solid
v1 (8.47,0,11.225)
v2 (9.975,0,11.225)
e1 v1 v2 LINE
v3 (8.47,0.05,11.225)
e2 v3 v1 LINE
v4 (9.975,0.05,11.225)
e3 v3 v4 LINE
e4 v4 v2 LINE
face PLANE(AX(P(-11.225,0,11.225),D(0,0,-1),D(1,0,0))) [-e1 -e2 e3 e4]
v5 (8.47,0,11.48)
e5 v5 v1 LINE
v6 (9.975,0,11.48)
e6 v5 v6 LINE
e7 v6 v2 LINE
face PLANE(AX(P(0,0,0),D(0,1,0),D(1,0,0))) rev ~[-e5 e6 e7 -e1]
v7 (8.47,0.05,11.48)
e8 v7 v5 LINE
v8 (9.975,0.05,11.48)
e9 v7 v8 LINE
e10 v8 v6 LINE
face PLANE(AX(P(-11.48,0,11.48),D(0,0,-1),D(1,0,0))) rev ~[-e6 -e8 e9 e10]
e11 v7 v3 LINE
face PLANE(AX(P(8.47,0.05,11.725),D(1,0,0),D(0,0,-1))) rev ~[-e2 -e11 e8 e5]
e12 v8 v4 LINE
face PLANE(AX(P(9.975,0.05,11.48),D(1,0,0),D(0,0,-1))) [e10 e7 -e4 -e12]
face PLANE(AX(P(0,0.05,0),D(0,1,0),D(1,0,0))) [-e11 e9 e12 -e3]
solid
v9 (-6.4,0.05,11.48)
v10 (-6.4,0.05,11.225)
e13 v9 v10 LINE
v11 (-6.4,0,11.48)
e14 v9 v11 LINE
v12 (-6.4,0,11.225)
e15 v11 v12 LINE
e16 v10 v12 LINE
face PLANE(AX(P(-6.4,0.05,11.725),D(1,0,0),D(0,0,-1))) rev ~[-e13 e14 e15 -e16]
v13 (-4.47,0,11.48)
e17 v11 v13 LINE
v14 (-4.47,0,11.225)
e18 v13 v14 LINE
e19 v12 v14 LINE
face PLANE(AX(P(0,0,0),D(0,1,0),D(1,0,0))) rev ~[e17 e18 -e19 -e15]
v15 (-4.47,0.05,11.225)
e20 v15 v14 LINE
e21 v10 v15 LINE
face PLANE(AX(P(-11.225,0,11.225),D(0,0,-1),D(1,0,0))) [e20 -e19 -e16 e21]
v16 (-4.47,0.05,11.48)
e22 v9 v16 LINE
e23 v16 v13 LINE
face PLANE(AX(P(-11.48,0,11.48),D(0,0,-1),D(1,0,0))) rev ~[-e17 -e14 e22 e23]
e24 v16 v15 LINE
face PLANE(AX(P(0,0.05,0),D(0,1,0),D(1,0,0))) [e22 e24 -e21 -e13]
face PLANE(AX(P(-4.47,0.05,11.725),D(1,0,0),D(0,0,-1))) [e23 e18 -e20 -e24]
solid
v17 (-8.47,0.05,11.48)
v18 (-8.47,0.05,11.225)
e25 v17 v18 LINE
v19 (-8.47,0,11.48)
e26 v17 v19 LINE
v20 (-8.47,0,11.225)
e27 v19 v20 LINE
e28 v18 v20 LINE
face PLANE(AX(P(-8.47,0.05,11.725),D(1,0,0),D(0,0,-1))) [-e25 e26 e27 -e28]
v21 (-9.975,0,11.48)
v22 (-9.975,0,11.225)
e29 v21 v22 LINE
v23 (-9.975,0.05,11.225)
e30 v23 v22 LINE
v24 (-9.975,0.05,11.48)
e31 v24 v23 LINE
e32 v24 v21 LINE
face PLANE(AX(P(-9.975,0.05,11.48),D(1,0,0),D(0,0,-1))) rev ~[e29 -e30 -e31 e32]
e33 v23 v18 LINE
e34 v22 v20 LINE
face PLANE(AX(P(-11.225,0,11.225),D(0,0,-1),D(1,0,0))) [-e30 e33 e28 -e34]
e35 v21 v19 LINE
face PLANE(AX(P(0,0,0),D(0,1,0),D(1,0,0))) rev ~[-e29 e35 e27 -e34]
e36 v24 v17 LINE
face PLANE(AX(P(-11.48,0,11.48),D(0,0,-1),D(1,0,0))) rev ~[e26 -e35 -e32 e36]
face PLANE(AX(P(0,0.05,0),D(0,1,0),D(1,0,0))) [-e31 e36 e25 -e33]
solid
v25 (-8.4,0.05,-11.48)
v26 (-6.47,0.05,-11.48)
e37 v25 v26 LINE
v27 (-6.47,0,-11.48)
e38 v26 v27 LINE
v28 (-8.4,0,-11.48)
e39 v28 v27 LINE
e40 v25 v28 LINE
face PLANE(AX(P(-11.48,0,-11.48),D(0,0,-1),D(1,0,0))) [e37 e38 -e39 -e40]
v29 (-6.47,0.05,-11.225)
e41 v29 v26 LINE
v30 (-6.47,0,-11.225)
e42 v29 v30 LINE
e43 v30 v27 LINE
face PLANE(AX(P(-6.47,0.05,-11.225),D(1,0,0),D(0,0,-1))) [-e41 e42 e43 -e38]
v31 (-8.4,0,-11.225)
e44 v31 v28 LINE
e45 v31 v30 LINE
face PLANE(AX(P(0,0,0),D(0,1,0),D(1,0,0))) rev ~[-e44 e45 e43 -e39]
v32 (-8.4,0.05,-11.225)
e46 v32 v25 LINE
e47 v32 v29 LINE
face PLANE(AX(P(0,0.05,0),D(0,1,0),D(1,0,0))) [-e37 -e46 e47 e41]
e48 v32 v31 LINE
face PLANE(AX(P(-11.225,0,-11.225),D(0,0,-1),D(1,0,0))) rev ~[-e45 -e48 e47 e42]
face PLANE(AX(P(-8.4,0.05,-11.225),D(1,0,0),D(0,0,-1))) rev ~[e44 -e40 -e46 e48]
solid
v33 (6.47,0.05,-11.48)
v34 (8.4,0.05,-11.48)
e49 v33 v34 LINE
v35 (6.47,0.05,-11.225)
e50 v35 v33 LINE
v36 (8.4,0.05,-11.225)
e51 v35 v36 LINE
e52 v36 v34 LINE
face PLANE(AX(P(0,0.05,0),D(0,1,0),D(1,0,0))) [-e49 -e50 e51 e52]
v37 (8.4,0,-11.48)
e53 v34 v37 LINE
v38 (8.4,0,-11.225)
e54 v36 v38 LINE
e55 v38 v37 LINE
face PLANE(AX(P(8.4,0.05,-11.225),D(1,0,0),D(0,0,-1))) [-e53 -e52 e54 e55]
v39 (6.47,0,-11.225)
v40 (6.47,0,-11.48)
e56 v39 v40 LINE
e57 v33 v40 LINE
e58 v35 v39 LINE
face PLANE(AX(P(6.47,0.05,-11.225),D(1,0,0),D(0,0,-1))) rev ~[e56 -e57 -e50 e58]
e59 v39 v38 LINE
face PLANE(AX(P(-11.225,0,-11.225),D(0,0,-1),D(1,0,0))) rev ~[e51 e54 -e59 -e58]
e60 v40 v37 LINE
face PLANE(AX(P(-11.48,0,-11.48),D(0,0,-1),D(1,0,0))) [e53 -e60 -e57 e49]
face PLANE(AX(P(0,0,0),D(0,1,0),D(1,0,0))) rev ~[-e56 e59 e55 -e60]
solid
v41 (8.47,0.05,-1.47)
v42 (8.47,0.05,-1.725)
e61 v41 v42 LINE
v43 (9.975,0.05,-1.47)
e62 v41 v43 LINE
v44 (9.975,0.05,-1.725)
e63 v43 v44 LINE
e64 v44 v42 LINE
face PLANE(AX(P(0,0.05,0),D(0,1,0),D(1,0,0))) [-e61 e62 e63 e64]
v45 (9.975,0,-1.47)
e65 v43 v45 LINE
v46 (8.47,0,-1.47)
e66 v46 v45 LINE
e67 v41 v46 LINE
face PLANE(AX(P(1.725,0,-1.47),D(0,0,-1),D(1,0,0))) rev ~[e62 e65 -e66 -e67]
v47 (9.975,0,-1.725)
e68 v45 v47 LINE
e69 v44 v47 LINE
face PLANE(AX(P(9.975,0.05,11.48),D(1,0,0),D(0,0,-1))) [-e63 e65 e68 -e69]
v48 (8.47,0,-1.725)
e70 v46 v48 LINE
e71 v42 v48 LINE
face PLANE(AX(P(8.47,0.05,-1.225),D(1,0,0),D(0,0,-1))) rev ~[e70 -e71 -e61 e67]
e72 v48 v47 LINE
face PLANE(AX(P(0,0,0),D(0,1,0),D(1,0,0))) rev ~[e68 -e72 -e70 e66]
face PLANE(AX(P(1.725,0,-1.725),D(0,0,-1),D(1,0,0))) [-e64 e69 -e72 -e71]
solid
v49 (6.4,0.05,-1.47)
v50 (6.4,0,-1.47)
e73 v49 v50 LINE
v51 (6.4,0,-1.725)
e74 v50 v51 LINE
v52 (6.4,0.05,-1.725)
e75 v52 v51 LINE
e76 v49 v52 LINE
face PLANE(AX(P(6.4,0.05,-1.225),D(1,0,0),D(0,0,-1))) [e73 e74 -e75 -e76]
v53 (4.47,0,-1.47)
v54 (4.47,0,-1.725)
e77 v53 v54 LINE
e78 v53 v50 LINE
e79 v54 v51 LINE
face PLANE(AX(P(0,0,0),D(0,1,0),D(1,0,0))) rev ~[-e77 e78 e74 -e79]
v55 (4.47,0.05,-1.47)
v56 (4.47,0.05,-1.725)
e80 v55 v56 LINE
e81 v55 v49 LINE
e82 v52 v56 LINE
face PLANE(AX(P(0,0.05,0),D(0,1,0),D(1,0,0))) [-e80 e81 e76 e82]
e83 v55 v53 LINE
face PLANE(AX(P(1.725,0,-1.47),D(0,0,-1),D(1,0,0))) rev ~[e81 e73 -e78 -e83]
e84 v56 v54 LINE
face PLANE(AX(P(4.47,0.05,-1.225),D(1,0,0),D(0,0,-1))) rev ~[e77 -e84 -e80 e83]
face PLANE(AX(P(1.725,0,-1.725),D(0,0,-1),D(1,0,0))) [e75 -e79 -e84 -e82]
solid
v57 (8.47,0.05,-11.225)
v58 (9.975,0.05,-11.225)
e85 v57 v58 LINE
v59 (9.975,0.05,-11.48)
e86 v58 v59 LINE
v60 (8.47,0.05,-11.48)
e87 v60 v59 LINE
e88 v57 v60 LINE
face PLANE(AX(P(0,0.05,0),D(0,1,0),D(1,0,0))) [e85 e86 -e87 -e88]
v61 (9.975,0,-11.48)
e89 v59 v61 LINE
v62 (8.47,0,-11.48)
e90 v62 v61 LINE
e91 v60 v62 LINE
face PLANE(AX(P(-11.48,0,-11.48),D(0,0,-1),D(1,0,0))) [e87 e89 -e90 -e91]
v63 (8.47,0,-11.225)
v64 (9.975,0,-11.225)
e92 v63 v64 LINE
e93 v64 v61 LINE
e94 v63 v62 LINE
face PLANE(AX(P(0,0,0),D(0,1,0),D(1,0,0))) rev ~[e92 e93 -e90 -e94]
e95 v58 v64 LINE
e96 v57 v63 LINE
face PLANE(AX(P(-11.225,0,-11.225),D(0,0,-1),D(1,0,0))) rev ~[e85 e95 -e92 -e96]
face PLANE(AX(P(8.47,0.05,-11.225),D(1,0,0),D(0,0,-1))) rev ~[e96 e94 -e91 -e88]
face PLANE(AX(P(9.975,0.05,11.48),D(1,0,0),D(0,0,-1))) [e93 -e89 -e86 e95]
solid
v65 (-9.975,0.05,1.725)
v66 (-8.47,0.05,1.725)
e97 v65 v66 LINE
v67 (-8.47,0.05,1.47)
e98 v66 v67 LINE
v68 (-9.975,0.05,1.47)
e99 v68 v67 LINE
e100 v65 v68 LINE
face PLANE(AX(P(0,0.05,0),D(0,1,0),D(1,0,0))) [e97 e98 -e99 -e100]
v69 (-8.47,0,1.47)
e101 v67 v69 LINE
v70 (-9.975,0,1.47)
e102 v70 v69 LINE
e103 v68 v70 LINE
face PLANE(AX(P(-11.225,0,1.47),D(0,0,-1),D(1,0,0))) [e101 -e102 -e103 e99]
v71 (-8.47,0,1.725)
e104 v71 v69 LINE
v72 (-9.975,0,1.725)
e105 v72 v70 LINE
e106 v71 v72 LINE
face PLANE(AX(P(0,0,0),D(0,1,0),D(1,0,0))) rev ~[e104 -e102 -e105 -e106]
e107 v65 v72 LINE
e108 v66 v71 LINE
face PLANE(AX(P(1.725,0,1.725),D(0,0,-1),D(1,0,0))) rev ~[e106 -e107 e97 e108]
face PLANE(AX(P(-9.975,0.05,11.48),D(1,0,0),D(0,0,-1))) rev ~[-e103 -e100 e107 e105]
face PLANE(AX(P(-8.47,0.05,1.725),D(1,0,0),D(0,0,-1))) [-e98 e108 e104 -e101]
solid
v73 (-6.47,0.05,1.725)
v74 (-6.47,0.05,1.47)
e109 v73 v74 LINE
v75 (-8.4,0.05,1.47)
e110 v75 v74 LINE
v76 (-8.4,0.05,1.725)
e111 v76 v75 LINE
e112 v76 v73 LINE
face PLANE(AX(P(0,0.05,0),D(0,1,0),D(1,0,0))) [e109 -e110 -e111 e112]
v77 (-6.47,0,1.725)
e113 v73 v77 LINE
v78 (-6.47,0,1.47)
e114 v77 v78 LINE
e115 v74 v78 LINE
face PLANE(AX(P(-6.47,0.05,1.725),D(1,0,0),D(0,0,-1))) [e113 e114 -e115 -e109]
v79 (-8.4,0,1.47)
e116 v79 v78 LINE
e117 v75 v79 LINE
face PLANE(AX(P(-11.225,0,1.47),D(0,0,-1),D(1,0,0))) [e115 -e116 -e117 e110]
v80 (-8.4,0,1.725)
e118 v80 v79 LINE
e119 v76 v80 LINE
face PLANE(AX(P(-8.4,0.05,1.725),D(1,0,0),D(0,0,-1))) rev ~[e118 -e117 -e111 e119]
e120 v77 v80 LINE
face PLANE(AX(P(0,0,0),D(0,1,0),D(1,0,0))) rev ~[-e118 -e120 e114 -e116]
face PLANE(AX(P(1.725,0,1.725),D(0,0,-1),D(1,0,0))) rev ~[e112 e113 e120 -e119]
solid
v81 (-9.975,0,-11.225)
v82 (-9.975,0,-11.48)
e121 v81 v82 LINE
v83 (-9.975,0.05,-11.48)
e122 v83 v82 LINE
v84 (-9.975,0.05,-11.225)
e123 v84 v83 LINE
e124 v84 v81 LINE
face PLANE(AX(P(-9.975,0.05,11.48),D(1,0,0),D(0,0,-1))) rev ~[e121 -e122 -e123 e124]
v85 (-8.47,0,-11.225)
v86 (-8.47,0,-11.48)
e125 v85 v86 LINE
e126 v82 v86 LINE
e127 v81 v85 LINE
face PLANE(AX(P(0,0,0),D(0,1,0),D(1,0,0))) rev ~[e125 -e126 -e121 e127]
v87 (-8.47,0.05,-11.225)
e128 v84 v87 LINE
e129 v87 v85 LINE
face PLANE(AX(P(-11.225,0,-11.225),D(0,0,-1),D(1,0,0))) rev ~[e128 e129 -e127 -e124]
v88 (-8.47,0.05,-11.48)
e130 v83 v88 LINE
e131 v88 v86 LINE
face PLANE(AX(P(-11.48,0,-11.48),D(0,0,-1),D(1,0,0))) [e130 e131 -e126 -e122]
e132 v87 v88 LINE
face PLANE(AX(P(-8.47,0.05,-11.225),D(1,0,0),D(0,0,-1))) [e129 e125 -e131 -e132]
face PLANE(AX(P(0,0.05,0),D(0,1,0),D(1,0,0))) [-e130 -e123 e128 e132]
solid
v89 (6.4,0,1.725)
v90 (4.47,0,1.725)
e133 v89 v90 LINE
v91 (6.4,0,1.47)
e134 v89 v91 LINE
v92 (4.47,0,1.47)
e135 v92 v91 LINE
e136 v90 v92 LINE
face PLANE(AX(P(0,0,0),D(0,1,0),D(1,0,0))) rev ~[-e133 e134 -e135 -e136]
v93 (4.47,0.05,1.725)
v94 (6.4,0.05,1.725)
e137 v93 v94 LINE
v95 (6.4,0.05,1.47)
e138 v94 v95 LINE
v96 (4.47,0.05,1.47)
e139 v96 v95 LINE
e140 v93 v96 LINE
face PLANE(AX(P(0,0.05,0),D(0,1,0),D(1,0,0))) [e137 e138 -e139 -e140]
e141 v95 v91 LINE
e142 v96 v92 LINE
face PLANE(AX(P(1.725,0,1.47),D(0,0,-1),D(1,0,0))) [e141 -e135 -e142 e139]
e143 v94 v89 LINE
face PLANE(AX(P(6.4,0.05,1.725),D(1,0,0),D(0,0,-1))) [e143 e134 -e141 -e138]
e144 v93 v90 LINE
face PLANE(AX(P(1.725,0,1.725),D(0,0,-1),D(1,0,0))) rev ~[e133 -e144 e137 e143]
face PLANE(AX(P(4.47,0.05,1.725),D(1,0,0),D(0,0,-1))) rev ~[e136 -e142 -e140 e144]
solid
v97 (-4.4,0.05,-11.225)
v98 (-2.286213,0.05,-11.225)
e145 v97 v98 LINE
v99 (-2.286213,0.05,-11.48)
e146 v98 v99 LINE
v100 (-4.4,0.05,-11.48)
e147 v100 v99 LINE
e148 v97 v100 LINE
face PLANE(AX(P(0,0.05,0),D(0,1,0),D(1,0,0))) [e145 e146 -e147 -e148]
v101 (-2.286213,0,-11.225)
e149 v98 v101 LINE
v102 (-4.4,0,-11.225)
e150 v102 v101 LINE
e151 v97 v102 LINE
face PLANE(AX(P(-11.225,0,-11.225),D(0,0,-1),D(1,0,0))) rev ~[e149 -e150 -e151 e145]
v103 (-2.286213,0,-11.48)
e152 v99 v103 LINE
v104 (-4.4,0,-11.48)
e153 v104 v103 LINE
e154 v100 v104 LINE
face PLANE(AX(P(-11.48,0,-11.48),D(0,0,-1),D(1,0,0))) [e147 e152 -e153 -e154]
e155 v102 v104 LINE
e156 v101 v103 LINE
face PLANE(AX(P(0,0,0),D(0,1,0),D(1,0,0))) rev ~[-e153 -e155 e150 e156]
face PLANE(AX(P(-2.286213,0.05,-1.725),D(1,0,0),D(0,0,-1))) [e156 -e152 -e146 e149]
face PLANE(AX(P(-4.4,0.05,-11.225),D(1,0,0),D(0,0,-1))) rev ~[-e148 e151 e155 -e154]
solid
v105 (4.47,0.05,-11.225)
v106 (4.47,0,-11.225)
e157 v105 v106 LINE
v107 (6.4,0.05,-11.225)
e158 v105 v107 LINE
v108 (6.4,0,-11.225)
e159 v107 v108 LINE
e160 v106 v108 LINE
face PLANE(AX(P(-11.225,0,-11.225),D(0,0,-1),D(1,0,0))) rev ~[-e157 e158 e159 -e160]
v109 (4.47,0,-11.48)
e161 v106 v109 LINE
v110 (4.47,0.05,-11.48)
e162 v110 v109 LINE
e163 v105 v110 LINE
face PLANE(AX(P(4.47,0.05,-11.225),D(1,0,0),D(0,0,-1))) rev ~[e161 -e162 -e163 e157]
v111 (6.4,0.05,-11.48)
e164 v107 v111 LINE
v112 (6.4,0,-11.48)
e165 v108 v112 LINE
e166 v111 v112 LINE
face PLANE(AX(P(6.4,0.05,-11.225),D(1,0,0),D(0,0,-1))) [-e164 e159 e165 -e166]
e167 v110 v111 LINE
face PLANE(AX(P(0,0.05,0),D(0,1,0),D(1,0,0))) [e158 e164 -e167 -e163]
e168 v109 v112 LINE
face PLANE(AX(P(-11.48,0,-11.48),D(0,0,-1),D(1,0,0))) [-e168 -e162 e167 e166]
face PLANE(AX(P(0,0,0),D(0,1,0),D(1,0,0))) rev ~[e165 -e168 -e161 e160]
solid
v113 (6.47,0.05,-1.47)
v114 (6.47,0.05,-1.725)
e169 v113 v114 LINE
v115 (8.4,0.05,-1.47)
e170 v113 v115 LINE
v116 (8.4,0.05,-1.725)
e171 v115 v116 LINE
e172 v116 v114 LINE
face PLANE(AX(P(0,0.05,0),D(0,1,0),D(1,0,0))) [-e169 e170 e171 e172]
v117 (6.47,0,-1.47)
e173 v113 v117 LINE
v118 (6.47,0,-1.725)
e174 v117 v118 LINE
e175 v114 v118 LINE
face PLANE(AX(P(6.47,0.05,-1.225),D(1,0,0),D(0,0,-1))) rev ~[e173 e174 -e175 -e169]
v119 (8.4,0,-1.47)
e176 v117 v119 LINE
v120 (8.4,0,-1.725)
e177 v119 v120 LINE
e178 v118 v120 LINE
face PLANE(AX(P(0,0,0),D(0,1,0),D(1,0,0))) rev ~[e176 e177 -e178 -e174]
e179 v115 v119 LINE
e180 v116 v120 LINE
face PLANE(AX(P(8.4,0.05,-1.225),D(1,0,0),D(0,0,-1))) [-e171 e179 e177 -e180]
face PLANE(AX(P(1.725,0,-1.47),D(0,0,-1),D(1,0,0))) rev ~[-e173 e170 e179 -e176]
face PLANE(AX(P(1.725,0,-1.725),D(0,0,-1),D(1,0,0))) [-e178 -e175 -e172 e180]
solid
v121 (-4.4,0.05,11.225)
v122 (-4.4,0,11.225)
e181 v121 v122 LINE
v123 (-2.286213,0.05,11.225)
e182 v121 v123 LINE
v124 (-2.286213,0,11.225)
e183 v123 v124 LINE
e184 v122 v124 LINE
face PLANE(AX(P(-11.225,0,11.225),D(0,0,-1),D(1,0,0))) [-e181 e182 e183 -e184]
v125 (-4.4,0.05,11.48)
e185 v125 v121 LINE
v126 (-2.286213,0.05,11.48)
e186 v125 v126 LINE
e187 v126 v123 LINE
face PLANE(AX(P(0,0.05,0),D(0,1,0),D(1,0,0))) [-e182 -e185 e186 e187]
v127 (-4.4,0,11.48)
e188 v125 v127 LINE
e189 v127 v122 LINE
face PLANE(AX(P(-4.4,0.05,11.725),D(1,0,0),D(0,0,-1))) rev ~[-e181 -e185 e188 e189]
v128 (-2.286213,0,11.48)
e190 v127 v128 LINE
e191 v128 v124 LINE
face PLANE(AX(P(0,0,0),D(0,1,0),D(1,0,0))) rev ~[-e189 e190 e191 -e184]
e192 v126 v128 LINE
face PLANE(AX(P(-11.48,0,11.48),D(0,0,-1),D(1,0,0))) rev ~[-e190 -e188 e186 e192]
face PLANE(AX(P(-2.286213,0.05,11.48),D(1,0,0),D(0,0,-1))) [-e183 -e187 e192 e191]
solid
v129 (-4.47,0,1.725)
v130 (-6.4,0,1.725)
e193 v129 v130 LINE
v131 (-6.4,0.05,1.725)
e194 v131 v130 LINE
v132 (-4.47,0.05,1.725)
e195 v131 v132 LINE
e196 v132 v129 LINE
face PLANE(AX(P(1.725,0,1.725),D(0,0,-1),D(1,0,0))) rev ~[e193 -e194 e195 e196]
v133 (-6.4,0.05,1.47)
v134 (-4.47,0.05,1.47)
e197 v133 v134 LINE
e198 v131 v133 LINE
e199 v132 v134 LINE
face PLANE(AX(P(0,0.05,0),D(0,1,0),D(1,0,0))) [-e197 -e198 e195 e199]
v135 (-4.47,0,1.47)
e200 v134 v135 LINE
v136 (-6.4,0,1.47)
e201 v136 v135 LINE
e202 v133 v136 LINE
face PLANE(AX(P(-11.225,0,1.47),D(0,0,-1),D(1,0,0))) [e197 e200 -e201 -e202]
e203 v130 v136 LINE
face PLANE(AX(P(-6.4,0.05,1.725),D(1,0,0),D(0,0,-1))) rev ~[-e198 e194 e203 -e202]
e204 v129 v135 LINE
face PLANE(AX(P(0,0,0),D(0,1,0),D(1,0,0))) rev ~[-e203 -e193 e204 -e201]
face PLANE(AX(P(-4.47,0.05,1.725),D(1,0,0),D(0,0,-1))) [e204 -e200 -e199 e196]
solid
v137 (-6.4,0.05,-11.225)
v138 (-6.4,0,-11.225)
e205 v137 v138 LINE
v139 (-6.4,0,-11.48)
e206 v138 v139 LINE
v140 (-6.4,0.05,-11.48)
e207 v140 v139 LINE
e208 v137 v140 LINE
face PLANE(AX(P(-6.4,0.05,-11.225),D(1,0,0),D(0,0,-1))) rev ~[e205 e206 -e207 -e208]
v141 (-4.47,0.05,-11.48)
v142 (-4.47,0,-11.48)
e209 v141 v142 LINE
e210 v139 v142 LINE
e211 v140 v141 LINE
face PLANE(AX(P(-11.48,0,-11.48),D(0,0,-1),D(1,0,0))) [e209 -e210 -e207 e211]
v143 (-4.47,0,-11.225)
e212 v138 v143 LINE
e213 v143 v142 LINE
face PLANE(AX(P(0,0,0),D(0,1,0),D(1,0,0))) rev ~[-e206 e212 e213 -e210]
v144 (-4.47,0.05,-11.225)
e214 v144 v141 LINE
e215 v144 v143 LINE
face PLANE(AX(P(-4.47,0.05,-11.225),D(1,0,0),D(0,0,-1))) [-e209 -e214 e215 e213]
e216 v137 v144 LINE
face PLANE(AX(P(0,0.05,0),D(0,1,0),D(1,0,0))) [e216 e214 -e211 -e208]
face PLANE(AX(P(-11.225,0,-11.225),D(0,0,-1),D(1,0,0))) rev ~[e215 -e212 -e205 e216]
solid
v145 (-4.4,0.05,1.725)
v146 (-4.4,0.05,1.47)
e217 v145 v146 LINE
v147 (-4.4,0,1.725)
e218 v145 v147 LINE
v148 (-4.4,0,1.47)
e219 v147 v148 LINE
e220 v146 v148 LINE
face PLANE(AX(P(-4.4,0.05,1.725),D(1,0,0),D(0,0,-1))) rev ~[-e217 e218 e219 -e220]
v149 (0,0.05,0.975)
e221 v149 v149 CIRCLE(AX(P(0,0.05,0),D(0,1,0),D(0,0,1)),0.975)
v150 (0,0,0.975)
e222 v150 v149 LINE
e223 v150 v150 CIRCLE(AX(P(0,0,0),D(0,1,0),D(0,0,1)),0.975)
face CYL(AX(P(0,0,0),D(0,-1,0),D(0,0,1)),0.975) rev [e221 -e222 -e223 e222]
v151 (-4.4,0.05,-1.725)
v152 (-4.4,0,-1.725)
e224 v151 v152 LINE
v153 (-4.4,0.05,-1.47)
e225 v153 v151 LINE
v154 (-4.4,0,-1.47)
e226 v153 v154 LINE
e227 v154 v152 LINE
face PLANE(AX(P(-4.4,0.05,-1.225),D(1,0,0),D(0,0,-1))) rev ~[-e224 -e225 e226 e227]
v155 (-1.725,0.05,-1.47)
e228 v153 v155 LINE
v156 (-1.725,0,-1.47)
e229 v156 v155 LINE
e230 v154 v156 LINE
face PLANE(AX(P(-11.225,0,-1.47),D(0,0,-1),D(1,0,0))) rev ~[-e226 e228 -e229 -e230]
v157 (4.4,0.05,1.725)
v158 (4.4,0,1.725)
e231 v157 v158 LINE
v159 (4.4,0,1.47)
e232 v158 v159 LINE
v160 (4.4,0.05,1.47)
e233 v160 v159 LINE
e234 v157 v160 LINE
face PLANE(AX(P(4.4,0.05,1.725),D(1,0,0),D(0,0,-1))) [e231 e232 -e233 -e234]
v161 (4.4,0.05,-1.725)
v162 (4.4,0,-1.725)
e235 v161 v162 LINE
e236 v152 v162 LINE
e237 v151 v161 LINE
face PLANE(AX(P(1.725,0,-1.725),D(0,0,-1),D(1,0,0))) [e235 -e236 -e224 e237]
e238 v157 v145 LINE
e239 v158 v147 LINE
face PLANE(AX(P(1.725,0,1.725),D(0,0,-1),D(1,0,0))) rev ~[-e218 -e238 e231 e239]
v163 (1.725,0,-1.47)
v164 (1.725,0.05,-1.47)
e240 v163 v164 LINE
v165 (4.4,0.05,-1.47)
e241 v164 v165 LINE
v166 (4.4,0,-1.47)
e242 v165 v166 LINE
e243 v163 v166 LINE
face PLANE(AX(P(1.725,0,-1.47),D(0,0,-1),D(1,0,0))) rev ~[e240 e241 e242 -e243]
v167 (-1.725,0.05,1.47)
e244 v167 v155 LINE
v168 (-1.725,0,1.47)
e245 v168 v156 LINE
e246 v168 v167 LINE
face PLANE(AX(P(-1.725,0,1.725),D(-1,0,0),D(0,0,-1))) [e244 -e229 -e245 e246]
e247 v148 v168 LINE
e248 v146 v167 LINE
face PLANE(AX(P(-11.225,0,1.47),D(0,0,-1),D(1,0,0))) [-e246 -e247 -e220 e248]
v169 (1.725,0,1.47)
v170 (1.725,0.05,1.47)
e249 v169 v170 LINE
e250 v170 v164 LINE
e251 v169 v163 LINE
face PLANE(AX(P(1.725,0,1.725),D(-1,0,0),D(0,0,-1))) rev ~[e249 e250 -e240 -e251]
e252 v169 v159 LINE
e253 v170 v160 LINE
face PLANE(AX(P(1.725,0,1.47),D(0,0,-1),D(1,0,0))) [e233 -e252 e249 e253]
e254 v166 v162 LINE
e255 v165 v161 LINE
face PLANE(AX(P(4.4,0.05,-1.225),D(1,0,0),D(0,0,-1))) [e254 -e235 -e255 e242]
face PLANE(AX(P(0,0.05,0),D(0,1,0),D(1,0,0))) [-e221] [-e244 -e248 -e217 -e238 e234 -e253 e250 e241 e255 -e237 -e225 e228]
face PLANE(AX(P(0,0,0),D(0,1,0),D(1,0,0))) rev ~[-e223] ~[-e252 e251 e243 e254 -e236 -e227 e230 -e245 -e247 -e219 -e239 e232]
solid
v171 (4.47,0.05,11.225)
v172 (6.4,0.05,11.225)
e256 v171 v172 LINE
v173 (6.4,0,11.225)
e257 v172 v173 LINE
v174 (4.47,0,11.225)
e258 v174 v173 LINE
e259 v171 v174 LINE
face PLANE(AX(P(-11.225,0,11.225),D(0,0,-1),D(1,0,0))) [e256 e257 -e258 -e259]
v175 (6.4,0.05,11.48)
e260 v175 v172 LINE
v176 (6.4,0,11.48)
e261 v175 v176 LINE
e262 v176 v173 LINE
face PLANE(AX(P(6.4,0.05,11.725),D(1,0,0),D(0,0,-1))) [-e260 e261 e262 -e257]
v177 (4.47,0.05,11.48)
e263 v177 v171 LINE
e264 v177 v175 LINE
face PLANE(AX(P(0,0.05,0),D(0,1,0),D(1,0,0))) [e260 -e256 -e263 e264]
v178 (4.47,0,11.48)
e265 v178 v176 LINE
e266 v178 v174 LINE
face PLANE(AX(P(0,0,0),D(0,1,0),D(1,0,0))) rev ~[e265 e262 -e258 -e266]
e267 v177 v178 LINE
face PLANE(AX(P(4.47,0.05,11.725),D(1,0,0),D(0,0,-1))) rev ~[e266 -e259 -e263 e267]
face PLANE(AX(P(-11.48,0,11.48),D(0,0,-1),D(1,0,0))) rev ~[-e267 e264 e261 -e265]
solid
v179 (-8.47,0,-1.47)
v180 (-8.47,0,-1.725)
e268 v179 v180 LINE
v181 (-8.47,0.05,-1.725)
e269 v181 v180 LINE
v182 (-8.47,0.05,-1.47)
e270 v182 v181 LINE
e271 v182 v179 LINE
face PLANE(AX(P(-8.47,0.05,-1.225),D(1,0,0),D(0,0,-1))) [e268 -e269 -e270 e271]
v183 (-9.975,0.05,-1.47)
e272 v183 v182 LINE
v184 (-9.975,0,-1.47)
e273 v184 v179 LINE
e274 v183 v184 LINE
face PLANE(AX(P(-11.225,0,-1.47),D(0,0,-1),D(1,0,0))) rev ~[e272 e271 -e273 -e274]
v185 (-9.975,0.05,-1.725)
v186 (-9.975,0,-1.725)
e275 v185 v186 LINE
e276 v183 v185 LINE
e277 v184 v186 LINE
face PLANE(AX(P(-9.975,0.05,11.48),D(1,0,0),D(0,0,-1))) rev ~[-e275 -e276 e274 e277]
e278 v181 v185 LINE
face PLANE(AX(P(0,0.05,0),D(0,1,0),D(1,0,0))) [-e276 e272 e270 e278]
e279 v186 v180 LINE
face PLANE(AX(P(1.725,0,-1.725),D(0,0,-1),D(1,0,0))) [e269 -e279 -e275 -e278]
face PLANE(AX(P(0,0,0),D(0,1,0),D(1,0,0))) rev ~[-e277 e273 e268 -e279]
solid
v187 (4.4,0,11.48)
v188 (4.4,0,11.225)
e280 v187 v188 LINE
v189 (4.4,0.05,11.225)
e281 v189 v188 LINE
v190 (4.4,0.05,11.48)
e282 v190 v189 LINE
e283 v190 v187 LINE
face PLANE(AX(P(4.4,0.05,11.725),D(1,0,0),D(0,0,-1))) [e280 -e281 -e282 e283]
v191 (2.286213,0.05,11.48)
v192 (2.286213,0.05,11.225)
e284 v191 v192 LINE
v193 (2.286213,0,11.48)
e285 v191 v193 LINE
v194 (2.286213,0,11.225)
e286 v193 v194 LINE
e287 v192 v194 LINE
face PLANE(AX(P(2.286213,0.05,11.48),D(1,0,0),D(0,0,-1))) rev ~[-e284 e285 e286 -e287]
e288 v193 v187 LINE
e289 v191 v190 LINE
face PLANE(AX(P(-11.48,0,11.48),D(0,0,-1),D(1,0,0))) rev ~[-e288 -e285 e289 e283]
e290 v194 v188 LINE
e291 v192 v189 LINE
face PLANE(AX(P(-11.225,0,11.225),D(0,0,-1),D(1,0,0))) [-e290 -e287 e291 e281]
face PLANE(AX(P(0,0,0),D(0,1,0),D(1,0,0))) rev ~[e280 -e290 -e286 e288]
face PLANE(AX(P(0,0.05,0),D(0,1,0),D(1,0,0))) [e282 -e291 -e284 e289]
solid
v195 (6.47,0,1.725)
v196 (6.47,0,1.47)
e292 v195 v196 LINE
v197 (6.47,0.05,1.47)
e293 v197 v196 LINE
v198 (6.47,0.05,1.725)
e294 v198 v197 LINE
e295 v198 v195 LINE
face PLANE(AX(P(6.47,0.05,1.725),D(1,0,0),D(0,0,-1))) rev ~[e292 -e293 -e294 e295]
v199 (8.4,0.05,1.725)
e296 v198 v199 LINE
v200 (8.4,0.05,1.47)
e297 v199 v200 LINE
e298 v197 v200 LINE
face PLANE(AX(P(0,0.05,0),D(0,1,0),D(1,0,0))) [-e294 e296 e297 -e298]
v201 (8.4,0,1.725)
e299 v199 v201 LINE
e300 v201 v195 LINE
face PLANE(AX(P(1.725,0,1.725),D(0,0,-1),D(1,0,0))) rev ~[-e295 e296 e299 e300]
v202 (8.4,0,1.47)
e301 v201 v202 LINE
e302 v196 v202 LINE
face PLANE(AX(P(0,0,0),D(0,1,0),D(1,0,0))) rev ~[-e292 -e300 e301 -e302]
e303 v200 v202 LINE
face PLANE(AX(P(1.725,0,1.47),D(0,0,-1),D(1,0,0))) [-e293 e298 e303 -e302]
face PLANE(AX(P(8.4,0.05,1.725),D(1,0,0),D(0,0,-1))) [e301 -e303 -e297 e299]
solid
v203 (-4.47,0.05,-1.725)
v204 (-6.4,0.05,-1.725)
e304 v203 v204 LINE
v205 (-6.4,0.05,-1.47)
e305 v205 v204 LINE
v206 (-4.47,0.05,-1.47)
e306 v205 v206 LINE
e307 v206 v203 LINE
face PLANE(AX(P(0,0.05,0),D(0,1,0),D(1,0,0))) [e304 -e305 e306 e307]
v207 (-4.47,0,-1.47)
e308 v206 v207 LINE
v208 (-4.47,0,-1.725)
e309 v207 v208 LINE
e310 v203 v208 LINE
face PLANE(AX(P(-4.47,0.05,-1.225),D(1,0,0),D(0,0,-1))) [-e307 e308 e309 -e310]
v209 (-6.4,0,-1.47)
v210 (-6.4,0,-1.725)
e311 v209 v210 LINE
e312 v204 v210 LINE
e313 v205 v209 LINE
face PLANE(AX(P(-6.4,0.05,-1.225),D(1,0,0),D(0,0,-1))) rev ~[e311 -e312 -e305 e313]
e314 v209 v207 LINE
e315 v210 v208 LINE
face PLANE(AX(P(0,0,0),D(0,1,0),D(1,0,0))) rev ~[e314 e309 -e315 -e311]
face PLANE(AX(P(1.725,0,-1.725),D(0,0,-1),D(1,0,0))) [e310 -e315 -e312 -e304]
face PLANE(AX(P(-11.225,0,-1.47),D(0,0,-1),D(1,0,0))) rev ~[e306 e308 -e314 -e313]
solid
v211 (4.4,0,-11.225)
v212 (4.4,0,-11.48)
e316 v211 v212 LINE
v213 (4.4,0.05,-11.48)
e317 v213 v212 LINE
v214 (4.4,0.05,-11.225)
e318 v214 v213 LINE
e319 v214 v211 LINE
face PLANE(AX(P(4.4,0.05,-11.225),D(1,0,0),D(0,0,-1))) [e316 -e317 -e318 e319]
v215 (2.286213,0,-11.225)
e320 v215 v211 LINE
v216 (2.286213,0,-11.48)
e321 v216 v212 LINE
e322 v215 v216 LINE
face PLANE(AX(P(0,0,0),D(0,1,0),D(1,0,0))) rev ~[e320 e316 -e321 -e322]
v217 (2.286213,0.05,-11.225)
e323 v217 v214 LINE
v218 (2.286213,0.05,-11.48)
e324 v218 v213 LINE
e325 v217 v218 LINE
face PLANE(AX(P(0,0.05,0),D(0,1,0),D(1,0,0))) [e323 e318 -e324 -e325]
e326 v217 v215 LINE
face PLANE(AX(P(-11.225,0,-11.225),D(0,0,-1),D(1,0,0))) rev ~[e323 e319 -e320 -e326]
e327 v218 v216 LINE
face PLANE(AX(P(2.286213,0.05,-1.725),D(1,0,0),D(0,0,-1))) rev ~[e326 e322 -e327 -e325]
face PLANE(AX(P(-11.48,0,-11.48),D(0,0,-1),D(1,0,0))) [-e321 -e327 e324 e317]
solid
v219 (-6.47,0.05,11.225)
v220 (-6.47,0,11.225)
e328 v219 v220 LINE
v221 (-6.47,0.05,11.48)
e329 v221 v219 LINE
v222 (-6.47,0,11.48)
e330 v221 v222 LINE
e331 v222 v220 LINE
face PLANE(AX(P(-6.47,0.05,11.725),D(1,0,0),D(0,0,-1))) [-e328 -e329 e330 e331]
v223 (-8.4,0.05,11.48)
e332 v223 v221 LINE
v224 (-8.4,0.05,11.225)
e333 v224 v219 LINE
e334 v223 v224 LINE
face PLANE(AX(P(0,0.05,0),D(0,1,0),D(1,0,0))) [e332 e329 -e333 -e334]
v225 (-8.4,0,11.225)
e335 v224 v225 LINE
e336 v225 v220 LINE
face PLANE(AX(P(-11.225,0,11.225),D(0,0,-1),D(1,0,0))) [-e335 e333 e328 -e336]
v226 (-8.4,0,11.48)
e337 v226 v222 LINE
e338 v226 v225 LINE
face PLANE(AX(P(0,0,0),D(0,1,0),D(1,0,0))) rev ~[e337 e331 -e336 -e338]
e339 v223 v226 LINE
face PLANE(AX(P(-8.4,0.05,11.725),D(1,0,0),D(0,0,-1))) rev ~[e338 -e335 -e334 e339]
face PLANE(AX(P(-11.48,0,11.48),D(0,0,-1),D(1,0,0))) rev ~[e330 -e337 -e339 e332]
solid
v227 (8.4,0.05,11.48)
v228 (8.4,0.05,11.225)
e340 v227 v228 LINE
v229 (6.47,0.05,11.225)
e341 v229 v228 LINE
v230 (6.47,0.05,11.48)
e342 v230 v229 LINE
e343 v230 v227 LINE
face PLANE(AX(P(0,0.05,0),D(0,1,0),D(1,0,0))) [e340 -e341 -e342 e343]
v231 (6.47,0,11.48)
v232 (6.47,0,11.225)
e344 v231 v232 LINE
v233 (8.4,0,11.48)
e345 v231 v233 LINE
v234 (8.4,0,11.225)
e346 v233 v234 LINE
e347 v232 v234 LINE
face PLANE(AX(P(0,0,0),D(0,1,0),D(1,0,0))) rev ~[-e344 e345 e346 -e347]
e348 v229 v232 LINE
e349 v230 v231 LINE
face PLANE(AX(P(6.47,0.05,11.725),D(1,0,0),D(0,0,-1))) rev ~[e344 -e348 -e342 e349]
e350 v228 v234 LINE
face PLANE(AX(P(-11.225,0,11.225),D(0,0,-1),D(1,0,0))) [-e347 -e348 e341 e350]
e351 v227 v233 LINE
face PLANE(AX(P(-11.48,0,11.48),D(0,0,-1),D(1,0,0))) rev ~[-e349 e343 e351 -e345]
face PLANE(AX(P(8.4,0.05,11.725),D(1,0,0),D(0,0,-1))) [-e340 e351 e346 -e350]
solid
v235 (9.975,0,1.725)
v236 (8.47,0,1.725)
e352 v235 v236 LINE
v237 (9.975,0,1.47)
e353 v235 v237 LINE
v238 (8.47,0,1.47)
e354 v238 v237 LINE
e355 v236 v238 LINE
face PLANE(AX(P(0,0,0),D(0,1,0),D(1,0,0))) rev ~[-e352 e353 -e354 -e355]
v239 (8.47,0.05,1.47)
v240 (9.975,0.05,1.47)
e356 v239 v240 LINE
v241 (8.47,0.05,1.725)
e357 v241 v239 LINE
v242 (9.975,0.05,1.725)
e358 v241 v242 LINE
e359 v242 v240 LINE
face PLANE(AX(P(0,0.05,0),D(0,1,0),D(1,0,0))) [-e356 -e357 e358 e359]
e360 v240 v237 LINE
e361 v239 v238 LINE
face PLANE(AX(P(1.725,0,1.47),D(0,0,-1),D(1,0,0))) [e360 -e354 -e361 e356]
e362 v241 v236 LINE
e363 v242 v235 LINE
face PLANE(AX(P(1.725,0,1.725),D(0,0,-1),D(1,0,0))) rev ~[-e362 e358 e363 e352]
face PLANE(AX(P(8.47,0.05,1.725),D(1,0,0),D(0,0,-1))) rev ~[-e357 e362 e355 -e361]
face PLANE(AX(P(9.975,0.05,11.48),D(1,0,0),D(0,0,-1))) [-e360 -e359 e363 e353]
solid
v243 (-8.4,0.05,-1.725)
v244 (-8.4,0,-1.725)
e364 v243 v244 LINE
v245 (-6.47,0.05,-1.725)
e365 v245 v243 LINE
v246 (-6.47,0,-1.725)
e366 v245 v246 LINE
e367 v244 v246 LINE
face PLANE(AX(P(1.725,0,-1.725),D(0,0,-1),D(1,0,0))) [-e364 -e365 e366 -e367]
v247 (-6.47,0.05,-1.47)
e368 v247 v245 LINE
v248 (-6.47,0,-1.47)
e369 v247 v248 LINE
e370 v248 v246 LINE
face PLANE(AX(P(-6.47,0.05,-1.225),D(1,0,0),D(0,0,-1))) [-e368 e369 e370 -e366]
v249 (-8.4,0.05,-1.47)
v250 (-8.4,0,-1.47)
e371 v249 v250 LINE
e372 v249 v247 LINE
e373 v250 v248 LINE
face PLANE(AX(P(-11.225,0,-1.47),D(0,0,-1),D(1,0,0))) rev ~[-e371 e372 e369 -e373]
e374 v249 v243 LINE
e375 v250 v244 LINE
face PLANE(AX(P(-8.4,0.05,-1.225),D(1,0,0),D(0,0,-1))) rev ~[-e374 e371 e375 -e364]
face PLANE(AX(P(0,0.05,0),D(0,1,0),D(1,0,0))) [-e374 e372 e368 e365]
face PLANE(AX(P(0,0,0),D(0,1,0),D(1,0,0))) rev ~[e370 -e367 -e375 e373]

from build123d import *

# Parameters (mm, degrees)
SKETCH1_W           = 22.96
SKETCH1_H           = 22.96
SKETCH1_W_2         = 22.45
SKETCH1_H_2         = 22.45
SKETCH1_W_3         = 9.5
SKETCH1_H_3         = 0.255
SKETCH1_W_4         = 3.45
SKETCH1_H_4         = 3.45
SKETCH1_R           = 0.975
SKETCH1_W_5         = 0.25
SKETCH1_H_5         = 1
BOSS_EXTRUDE5_DEPTH = 0.05
SKETCH2_W           = 0.07
SKETCH2_H           = 0.5
CUT_EXTRUDE1_DEPTH  = 10
SKETCH3_W           = 1.755
SKETCH3_H           = 22.96
SKETCH3_W_2         = 4.572426812
SKETCH3_H_2         = 9.755
CUT_EXTRUDE2_DEPTH  = 10


with BuildPart() as part:
    # Sketch1 → Boss-Extrude5 (new body)
    # profile 1 of 8: a face of its own
    with BuildSketch(Plane(origin=(0, 0, 0), x_dir=(1, 0, 0), z_dir=(0, 1, 0))):
        Rectangle(SKETCH1_W, SKETCH1_H)
        Rectangle(SKETCH1_W_2, SKETCH1_H_2, mode=Mode.SUBTRACT)
    # profile 2 of 8: a face of its own
    with BuildSketch(Plane(origin=(0, 0, 0), x_dir=(1, 0, 0), z_dir=(0, 1, 0))):
        with Locations((-6.475, -1.5975)):
            Rectangle(SKETCH1_W_3, SKETCH1_H_3)
    # profile 3 of 8: a face of its own
    with BuildSketch(Plane(origin=(0, 0, 0), x_dir=(1, 0, 0), z_dir=(0, 1, 0))):
        with Locations((-6.475, 1.5975)):
            Rectangle(SKETCH1_W_3, SKETCH1_H_3)
    # profile 4 of 8: a face of its own
    with BuildSketch(Plane(origin=(0, 0, 0), x_dir=(1, 0, 0), z_dir=(0, 1, 0))):
        Rectangle(SKETCH1_W_4, SKETCH1_H_4)
        with Locations(Location((0, 0, 0), (0, 0, 270))):
            Circle(SKETCH1_R, mode=Mode.SUBTRACT)
    # profile 5 of 8: a face of its own
    with BuildSketch(Plane(origin=(0, 0, 0), x_dir=(1, 0, 0), z_dir=(0, 1, 0))):
        with Locations((6.475, 1.5975)):
            Rectangle(SKETCH1_W_3, SKETCH1_H_3)
    # profile 6 of 8: a face of its own
    with BuildSketch(Plane(origin=(0, 0, 0), x_dir=(1, 0, 0), z_dir=(0, 1, 0))):
        with Locations((6.475, -1.5975)):
            Rectangle(SKETCH1_W_3, SKETCH1_H_3)
    # profile 7 of 8: a face of its own
    with BuildSketch(Plane(origin=(0, 0, 0), x_dir=(1, 0, 0), z_dir=(0, 1, 0))):
        with Locations((-11.605, -1.95)):
            Rectangle(SKETCH1_W_5, SKETCH1_H_5)
    # profile 8 of 8: a face of its own
    with BuildSketch(Plane(origin=(0, 0, 0), x_dir=(1, 0, 0), z_dir=(0, 1, 0))):
        with Locations((-11.605, 1.95)):
            Rectangle(SKETCH1_W_5, SKETCH1_H_5)
    extrude(amount=BOSS_EXTRUDE5_DEPTH)

    # Sketch2 → Cut-Extrude1 (cut)
    with BuildSketch(Plane(origin=(0, 0.05, 0), x_dir=(1, 0, 0), z_dir=(0, 1, 0))):
        with Locations((-6.435, 1.475)):
            Rectangle(SKETCH2_W, SKETCH2_H)
        with Locations((-8.435, 1.475)):
            Rectangle(SKETCH2_W, SKETCH2_H)
        with Locations((-4.435, 1.475)):
            Rectangle(SKETCH2_W, SKETCH2_H)
        with Locations((-4.435, 11.475)):
            Rectangle(SKETCH2_W, SKETCH2_H)
        with Locations((-6.435, 11.475)):
            Rectangle(SKETCH2_W, SKETCH2_H)
        with Locations((-8.435, 11.475)):
            Rectangle(SKETCH2_W, SKETCH2_H)
        with Locations((4.435, 1.475)):
            Rectangle(SKETCH2_W, SKETCH2_H)
        with Locations((6.435, 1.475)):
            Rectangle(SKETCH2_W, SKETCH2_H)
        with Locations((8.435, 1.475)):
            Rectangle(SKETCH2_W, SKETCH2_H)
        with Locations((4.435, 11.475)):
            Rectangle(SKETCH2_W, SKETCH2_H)
        with Locations((6.435, 11.475)):
            Rectangle(SKETCH2_W, SKETCH2_H)
        with Locations((8.435, 11.475)):
            Rectangle(SKETCH2_W, SKETCH2_H)
        with Locations((-8.435, -11.475)):
            Rectangle(SKETCH2_W, SKETCH2_H)
        with Locations((-6.435, -11.475)):
            Rectangle(SKETCH2_W, SKETCH2_H)
        with Locations((-4.435, -11.475)):
            Rectangle(SKETCH2_W, SKETCH2_H)
        with Locations((4.435, -11.475)):
            Rectangle(SKETCH2_W, SKETCH2_H)
        with Locations((6.435, -11.475)):
            Rectangle(SKETCH2_W, SKETCH2_H)
        with Locations((8.435, -11.475)):
            Rectangle(SKETCH2_W, SKETCH2_H)
        with Locations((8.435, -1.475)):
            Rectangle(SKETCH2_W, SKETCH2_H)
        with Locations((6.435, -1.475)):
            Rectangle(SKETCH2_W, SKETCH2_H)
        with Locations((4.435, -1.475)):
            Rectangle(SKETCH2_W, SKETCH2_H)
        with Locations((-4.435, -1.475)):
            Rectangle(SKETCH2_W, SKETCH2_H)
        with Locations((-6.435, -1.475)):
            Rectangle(SKETCH2_W, SKETCH2_H)
        with Locations((-8.435, -1.475)):
            Rectangle(SKETCH2_W, SKETCH2_H)
    extrude(amount=-CUT_EXTRUDE1_DEPTH, mode=Mode.SUBTRACT)

    # Sketch3 → Cut-Extrude2 (cut)
    with BuildSketch(Plane(origin=(0, 0.05, 0), x_dir=(1, 0, 0), z_dir=(0, 1, 0))):
        with Locations((-10.8525, 0)):
            Rectangle(SKETCH3_W, SKETCH3_H)
        with Locations((0, 6.6025)):
            Rectangle(SKETCH3_W_2, SKETCH3_H_2)
        with Locations((0, -6.6025)):
            Rectangle(SKETCH3_W_2, SKETCH3_H_2)
        with Locations((10.8525, 0)):
            Rectangle(SKETCH3_W, SKETCH3_H)
    extrude(amount=-CUT_EXTRUDE2_DEPTH, mode=Mode.SUBTRACT)


solid = part.part
